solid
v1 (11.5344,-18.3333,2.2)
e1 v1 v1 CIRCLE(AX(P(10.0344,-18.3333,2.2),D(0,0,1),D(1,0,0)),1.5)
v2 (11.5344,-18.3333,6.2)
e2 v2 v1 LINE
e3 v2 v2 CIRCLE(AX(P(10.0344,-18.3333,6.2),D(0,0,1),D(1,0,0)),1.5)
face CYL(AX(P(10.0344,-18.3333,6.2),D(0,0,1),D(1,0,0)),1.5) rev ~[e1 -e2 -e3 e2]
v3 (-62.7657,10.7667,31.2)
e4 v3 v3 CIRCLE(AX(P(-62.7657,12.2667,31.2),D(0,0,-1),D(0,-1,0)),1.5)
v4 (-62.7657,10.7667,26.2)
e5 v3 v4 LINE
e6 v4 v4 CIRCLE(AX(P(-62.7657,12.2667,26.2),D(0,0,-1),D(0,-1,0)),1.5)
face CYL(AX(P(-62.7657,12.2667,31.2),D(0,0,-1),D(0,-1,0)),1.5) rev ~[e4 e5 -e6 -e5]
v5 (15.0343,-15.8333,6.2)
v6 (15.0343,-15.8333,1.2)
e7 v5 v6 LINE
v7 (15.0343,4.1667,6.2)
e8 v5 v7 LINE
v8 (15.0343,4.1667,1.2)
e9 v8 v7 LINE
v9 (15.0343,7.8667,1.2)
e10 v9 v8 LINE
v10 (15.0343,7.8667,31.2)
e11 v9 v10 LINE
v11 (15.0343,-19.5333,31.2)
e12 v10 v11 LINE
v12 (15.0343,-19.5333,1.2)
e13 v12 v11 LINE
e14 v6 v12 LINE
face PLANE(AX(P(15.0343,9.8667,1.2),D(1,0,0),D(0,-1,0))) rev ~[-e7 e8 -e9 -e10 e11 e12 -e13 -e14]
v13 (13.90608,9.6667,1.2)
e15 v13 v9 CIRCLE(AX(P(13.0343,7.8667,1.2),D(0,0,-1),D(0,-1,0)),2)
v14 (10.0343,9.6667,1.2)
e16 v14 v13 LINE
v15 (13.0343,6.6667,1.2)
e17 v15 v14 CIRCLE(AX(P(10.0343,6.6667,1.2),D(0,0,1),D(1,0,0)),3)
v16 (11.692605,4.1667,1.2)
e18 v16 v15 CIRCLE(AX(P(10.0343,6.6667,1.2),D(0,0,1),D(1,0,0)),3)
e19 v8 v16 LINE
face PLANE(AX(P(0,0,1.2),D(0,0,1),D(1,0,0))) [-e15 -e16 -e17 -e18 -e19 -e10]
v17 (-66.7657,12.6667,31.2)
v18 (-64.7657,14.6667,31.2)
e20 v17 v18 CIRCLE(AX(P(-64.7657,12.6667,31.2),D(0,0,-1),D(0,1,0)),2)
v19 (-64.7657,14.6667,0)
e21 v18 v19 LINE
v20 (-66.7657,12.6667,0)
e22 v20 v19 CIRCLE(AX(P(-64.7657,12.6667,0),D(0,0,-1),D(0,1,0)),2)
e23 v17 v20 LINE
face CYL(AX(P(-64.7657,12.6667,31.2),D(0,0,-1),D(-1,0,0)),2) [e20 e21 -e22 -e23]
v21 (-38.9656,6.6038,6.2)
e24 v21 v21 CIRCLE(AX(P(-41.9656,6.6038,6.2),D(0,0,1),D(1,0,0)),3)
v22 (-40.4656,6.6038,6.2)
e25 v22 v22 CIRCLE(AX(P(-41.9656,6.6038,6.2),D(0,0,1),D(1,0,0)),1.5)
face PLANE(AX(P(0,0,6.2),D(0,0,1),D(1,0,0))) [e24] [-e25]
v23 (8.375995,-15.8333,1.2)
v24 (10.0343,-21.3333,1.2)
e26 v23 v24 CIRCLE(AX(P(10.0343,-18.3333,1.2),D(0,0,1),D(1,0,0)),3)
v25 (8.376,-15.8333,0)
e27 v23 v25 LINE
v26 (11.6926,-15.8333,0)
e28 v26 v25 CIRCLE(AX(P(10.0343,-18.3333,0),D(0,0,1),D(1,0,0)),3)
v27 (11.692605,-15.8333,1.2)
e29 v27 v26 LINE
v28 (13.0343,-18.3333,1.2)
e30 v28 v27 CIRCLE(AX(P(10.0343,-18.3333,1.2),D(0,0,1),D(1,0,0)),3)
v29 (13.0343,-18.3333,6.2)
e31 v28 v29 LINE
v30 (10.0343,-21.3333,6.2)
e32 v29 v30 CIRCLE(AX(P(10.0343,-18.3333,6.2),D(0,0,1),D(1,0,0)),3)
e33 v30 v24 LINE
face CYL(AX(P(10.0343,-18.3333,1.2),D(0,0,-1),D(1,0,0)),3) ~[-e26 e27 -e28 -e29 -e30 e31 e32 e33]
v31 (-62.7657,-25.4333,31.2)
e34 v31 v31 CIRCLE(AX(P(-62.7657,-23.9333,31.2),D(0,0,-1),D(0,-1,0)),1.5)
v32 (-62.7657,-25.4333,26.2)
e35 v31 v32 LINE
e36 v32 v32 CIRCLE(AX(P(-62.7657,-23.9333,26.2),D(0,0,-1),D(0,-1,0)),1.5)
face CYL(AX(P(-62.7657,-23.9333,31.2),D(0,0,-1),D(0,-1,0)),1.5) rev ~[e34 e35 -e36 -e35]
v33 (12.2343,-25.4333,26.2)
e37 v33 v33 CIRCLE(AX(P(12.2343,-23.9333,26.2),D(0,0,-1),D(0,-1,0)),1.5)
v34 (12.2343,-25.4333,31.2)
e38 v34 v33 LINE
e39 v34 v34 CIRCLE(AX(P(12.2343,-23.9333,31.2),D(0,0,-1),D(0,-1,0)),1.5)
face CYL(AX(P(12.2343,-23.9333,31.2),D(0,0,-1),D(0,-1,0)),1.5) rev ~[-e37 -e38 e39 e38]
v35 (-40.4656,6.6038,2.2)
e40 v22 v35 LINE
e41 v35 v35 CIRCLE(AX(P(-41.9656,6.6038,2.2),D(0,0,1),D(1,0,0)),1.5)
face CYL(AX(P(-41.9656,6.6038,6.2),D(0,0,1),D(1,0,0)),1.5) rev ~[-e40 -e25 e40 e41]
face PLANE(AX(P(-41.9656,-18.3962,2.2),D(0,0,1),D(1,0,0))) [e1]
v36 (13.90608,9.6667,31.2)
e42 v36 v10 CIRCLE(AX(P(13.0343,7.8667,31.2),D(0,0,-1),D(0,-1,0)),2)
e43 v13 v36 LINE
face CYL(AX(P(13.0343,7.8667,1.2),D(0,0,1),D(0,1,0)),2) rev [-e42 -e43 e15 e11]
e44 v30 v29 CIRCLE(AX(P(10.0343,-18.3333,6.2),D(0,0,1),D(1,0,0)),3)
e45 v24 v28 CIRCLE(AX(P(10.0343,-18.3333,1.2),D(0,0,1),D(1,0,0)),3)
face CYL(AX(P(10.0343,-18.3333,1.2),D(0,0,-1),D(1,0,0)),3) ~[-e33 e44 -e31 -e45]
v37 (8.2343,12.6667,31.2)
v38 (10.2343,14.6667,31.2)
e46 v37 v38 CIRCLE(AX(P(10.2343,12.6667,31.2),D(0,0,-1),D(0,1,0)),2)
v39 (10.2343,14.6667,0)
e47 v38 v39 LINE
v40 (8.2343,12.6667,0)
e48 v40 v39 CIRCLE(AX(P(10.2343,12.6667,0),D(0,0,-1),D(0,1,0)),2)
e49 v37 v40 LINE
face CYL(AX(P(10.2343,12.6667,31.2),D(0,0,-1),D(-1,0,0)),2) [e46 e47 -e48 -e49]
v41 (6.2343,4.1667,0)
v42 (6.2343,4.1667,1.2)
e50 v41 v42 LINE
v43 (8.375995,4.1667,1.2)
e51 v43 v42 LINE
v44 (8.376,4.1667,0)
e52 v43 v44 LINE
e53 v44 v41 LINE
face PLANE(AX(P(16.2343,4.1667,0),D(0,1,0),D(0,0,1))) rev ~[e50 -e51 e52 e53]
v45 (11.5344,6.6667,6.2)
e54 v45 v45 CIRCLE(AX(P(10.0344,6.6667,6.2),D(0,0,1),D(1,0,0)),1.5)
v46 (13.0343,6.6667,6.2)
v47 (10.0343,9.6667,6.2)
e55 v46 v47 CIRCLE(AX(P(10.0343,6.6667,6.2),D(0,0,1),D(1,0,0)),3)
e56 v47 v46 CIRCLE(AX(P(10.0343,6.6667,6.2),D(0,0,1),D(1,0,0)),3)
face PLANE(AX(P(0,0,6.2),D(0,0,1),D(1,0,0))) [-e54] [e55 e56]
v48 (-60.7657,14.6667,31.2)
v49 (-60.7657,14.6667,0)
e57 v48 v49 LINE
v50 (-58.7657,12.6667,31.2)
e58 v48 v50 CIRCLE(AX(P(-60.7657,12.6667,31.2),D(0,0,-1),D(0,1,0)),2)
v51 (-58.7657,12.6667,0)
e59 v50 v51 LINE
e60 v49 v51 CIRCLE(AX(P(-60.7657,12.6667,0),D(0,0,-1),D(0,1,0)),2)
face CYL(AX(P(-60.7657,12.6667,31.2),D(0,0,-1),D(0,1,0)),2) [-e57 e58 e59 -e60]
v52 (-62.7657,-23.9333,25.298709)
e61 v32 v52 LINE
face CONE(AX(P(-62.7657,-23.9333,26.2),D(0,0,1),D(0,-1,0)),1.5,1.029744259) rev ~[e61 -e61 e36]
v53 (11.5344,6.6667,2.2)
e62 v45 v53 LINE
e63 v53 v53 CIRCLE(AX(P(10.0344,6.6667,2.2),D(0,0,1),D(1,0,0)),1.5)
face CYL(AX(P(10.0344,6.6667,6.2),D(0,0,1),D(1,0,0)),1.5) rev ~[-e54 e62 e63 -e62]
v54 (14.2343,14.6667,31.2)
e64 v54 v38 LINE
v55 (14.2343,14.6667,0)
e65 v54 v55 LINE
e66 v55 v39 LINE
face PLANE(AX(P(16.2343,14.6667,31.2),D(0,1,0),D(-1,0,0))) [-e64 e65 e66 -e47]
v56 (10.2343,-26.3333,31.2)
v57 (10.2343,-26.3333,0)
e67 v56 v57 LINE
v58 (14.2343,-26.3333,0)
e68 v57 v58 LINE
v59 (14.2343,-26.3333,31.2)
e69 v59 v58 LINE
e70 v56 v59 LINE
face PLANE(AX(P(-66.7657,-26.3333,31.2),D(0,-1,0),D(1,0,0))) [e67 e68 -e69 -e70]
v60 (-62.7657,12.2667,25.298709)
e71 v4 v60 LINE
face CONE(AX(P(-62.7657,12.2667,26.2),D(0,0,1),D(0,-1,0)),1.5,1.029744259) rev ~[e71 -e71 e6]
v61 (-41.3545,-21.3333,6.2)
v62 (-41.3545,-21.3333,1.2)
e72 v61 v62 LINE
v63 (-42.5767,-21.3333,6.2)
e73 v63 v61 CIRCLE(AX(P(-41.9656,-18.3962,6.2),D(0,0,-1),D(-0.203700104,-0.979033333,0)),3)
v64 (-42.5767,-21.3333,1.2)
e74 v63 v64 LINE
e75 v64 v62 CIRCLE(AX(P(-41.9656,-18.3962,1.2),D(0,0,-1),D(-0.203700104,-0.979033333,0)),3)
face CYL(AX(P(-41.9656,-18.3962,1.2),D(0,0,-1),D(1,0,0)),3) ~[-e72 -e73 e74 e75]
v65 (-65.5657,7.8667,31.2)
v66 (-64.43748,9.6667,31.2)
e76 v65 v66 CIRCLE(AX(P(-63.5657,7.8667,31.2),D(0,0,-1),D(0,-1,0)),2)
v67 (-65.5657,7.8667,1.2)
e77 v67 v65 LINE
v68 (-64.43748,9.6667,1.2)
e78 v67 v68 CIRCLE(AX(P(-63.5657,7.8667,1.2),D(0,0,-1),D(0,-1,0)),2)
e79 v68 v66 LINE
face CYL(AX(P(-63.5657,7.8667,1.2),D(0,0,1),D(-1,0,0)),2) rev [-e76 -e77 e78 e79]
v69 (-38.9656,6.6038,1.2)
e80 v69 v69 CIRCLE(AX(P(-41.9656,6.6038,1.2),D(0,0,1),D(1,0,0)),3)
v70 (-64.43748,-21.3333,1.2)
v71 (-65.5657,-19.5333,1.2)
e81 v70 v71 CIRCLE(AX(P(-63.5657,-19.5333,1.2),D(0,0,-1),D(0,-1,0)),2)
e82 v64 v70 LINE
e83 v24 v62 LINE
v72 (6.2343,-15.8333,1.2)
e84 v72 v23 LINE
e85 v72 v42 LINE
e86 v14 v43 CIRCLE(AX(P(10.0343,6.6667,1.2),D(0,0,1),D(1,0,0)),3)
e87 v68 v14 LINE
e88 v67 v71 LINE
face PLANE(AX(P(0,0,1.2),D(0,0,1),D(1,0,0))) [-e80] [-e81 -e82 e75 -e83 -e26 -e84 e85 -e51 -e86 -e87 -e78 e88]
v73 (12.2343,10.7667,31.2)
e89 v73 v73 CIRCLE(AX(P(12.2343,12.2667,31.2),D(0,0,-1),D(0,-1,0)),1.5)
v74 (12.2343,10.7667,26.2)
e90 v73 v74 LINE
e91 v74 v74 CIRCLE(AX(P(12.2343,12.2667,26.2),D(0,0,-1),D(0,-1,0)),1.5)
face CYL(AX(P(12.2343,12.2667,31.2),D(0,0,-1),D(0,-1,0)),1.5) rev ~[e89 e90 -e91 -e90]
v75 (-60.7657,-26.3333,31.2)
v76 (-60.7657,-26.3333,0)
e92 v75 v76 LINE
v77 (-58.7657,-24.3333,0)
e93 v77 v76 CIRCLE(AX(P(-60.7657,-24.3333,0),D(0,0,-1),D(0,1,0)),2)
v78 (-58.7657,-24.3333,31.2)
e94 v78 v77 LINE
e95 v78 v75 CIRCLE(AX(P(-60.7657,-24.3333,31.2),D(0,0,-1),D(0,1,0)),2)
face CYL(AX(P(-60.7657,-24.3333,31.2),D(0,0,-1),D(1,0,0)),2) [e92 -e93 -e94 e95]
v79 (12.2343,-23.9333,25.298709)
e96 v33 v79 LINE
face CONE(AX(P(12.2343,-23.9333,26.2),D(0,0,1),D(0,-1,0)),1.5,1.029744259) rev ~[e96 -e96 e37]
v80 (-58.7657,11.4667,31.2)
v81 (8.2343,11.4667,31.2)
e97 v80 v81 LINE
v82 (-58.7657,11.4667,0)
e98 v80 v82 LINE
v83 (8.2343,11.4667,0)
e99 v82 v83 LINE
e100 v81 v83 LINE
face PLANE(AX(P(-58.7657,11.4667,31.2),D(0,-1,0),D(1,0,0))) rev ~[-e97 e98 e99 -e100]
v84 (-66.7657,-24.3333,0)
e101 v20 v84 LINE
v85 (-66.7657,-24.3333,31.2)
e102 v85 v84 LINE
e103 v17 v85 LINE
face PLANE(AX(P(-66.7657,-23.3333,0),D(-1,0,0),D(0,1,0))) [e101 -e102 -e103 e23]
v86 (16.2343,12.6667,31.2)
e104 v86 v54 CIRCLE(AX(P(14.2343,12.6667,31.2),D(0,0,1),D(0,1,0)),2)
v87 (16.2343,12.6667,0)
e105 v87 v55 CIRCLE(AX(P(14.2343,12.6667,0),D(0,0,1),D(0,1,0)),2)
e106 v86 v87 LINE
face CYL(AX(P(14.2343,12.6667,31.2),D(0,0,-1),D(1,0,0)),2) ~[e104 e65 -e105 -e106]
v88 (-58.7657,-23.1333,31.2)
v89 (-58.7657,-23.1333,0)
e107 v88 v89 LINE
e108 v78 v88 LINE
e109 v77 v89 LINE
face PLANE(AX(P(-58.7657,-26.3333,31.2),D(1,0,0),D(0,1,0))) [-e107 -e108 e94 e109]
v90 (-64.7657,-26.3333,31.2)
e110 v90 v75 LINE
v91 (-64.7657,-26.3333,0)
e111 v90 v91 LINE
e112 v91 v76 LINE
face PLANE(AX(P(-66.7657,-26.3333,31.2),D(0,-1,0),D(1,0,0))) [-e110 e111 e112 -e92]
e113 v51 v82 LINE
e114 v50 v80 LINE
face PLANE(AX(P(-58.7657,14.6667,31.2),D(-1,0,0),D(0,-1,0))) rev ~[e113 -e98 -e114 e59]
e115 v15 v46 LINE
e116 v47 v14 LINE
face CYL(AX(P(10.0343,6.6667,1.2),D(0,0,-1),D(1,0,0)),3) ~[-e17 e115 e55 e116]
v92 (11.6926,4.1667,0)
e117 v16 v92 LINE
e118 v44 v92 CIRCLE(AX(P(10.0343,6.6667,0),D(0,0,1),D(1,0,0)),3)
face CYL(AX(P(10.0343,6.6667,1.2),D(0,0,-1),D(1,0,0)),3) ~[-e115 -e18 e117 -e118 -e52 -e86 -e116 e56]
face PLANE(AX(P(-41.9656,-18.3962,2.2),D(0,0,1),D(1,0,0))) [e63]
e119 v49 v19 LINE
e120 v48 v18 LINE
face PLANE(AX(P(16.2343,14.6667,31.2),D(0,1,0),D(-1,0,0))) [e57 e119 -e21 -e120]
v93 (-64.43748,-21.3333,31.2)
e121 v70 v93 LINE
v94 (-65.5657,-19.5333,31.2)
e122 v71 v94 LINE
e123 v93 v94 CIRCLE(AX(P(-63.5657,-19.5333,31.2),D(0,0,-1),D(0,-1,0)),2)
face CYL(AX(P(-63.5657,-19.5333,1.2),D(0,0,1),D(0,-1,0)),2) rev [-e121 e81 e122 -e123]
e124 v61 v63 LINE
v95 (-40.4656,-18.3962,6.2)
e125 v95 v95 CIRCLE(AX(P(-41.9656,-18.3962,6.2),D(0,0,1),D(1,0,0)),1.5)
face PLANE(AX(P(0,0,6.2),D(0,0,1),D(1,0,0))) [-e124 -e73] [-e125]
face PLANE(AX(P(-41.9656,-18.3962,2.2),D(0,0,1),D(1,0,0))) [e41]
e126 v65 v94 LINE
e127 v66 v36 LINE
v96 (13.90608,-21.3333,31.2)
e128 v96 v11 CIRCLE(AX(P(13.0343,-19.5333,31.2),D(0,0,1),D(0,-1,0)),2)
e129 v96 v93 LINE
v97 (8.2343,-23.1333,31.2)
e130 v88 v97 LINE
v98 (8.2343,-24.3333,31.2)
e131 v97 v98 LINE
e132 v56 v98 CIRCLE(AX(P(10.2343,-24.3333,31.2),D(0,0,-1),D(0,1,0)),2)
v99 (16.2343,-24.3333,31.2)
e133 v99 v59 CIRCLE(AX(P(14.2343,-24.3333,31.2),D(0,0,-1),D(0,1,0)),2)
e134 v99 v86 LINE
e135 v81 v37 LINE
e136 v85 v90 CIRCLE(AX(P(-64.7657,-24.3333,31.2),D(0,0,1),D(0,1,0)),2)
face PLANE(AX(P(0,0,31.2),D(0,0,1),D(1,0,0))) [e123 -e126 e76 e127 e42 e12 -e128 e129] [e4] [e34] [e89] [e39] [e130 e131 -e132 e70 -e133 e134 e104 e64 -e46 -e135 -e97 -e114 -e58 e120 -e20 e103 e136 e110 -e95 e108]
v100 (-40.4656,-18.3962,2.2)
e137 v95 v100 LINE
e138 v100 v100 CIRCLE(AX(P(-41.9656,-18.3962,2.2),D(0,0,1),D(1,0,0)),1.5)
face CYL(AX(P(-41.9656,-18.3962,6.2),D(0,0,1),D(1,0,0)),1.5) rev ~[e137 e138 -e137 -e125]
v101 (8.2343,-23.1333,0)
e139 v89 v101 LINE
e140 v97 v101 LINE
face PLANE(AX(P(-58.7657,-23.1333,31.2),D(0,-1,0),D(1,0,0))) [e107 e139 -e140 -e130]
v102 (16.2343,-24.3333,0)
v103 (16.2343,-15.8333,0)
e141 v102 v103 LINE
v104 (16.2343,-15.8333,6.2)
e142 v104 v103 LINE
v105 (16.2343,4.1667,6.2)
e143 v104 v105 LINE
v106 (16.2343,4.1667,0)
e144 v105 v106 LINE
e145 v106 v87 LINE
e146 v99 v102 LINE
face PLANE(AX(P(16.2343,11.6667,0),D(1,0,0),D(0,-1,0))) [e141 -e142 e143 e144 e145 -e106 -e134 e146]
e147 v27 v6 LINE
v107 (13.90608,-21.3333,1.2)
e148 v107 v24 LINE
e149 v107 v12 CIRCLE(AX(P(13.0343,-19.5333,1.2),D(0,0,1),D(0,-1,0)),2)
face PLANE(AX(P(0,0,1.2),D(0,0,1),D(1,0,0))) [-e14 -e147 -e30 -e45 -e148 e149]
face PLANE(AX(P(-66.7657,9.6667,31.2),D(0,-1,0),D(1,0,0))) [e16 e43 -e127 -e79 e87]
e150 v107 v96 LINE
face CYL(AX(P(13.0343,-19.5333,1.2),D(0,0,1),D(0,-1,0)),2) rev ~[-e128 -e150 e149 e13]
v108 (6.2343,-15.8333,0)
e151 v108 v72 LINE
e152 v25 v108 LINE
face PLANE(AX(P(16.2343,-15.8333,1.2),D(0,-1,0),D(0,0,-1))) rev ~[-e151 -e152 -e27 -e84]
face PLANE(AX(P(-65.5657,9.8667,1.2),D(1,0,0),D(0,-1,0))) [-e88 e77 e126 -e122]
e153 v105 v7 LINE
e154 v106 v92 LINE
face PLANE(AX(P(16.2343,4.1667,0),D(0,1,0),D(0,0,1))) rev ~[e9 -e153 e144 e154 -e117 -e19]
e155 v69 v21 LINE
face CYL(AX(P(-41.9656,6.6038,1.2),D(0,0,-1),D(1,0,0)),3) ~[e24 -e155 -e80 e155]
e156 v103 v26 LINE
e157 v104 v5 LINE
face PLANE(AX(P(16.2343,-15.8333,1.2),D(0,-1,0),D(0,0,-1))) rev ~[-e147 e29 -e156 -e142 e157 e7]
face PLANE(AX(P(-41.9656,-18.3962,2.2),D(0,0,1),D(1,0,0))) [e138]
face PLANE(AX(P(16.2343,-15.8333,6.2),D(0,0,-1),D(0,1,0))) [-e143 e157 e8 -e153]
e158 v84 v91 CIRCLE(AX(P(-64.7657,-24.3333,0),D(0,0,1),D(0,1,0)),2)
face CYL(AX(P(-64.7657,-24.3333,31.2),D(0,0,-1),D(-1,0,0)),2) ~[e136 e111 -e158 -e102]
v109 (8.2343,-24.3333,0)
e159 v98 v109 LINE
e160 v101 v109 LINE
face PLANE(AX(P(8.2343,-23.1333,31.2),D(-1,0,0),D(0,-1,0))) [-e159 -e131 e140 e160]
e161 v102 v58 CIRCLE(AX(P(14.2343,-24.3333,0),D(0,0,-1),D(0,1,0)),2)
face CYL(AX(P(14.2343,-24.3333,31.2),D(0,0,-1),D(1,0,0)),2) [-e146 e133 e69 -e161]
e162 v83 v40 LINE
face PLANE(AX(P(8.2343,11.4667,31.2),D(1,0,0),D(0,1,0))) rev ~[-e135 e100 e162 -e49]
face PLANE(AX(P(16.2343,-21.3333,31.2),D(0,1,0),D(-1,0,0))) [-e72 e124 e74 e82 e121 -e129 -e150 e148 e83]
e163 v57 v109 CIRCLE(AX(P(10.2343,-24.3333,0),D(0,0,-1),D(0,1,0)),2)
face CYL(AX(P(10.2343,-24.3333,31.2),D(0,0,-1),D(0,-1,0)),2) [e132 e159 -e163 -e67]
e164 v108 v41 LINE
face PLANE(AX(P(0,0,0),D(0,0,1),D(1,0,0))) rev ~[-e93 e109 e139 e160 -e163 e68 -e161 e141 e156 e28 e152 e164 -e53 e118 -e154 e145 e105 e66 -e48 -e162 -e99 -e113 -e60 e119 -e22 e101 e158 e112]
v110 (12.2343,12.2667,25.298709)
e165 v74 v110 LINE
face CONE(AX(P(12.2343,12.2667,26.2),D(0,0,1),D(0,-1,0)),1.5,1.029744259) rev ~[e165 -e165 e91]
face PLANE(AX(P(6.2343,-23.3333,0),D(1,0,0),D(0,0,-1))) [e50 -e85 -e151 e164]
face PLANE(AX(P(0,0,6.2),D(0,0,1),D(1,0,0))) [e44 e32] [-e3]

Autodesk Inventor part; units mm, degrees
ref_plane "YZ Plane" through (0, 0, 0) normal (1, 0, 0) x (0, 1, 0)
ref_plane "XZ Plane" through (0, 0, 0) normal (0, 1, 0) x (-1, 0, 0)
ref_plane "XY Plane" through (0, 0, 0) normal (0, 0, 1) x (1, 0, 0)
sketch "Sketch1" plane through (0, 0, 0) normal (0, 0, 1) x (1, 0, 0)
  line L0 (-66.7657, 11.6667) -> (16.2343, 11.6667)
  line L1 (16.2343, 11.6667) -> (16.2343, -23.3333)
  line L2 (16.2343, -23.3333) -> (-66.7657, -23.3333)
  line L3 (-66.7657, -23.3333) -> (-66.7657, 11.6667)
  point P0 (0, 0)
  dimension "d0" = 35
  dimension "d1" = 83
extrude "Extrusion1" add sketch "Sketch1" along normal blind 1.2
sketch "Sketch2" plane through (0, 0, 1.2) normal (0, 0, 1) x (1, 0, 0)
  line L0 (16.2343, -23.3333) -> (16.2343, 11.6667) projected
  line L1 (-66.7657, 11.6667) -> (16.2343, 11.6667)
  line L2 (16.2343, 11.6667) -> (16.2343, 9.8667)
  line L3 (16.2343, 9.8667) -> (-66.7657, 9.8667)
  line L4 (-66.7657, 9.8667) -> (-66.7657, 11.6667)
  line L5 (-66.7657, 11.6667) -> (-66.7657, -23.3333) projected
  line L6 (16.2343, -23.3333) -> (-66.7657, -23.3333)
  line L7 (-66.7657, -23.3333) -> (-66.7657, -21.5333)
  line L8 (-66.7657, -21.5333) -> (16.2343, -21.5333)
  line L9 (16.2343, -21.5333) -> (16.2343, -23.3333)
  line L10 (-66.7657, 9.8667) -> (-65.5657, 9.8667)
  line L11 (-65.5657, 9.8667) -> (-65.5657, -21.5333)
  line L12 (-65.5657, -21.5333) -> (-66.7657, -21.5333)
  line L13 (-66.7657, -21.5333) -> (-66.7657, 9.8667)
  line L14 (16.2343, 9.8667) -> (15.0343, 9.8667)
  line L15 (15.0343, 9.8667) -> (15.0343, -21.5333)
  line L16 (15.0343, -21.5333) -> (16.2343, -21.5333)
  line L17 (16.2343, -21.5333) -> (16.2343, 9.8667)
  line L18 (-66.7657, 11.6667) -> (-65.5657, 11.6667)
  line L19 (-65.5657, 11.6667) -> (-65.5657, -21.5333)
  line L20 (-65.5657, -21.5333) -> (-66.7657, -21.5333)
  line L21 (-66.7657, -21.5333) -> (-66.7657, 11.6667)
  line L22 (-66.7657, 11.6667) -> (16.2343, 11.6667)
  line L23 (16.2343, 11.6667) -> (16.2343, 9.8667)
  line L24 (16.2343, 9.8667) -> (-66.7657, 9.8667)
  line L25 (-66.7657, 9.8667) -> (-66.7657, 11.6667)
  point P0 (0, 0)
  dimension "d4" = 1.8
  dimension "d5" = 1.8
  dimension "d6" = 1.2
  dimension "d7" = 1.2
extrude "Extrusion2" add sketch "Sketch2" along normal blind 30 contours L6 L5 L8 L0 | L8 L15 L3 L0 | L3 L19 L1 L0 | L5 L3 L11 L8 | L4 L1 L19 L3
sketch "Sketch3" plane through (0, 0, 31.2) normal (0, 0, 1) x (1, 0, 0)
  point P0 (0, 0)
sketch "Sketch4" plane through (16.2343, -23.3333, 0) normal (1, 0, 0) x (0, 0, -1)
  line L0 (-1.2, 33.2) -> (-1.2, 1.8) projected
  line L1 (-1.2, 7.5) -> (-6.2, 7.5)
  line L2 (-6.2, 7.5) -> (-6.2, 27.5)
  line L3 (-6.2, 27.5) -> (-1.2, 27.5)
  line L4 (-1.2, 27.5) -> (-1.2, 7.5)
  line L5 (-1.2, 1.8) -> (-31.2, 1.8) projected
  line L6 (-1.2, 33.2) -> (-31.2, 33.2) projected
  line L7 (-6.2, 7.5) -> (0, 7.5)
  line L8 (0, 7.5) -> (0, 27.5)
  line L9 (0, 27.5) -> (-6.2, 27.5)
  line L10 (-6.2, 27.5) -> (-6.2, 7.5)
  line L11 (0, 35) -> (0, 0) projected
  point P0 (0, 23.3333)
  dimension "d10" = 20
  dimension "d11" = 5
  dimension "d12" = 5.7
  dimension "d13" = 5.7
extrude "Extrusion3" cut sketch "Sketch4" against normal blind 10
fillet "Fillet1" radius 2 8 edges at (-66.7657, 11.6667, 15.6) (-65.5657, 9.8667, 16.2) (-66.7657, -23.3333, 15.6) (-65.5657, -21.5333, 16.2) (15.0343, 9.8667, 16.2) (16.2343, 11.6667, 15.6) (16.2343, -23.3333, 15.6) (15.0343, -21.5333, 16.2)
sketch "Sketch5" plane through (0, 0, 1.2) normal (0, 0, 1) x (1, 0, 0)
  circle A0 centre (10.0343, 6.6667) radius 1.5
  circle A1 centre (10.0343, -18.3333) radius 1.5
  line L0 (15.0343, 7.8667) -> (15.0343, -19.5333) projected
  line L1 (13.0343, -21.5333) -> (-63.5657, -21.5333) projected
  line L2 (-63.5657, 9.8667) -> (13.0343, 9.8667) projected
  point P0 (0, 0)
  dimension "d17" = 3
  dimension "d18" = 3
  dimension "d19" = 25
  dimension "d20" = 5
  dimension "d21" = 5
  dimension "d22" = 3.2
  dimension "d23" = 3.2
extrude "Extrusion4" add sketch "Sketch5" along normal blind 5
sketch "Sketch6" plane through (0, 0, 1.2) normal (0, 0, 1) x (1, 0, 0)
  circle A0 centre (-41.9656, -18.3962) radius 1.5
  circle A1 centre (-41.9656, 6.6038) radius 1.5
  circle A2 centre (10.0343, 6.6667) radius 1.5 projected
  circle A3 centre (10.0343, -18.3333) radius 1.5 projected
  point P0 (0, 0)
  dimension "d26" = 3
  dimension "d27" = 3
  dimension "d28" = 25
  dimension "d29" = 52
  dimension "d30" = 52
extrude "Extrusion5" add sketch "Sketch6" along normal blind 5 contours A0 | A1
sketch "Sketch7" plane through (-41.9656, 6.6038, 6.2) normal (0, 0, 1) x (1, 0, 0)
  point P0 (41.9656, -6.6038)
sketch "Sketch8" plane through (0, 0, 1.2) normal (0, 0, 1) x (1, 0, 0)
  circle A0 centre (-41.9656, -18.3962) radius 1.5 projected
  circle A1 centre (-41.9656, -18.3962) radius 3
  circle A2 centre (-41.9656, 6.6038) radius 1.5 projected
  circle A3 centre (-41.9656, 6.6038) radius 3
  circle A4 centre (10.0343, -18.3333) radius 1.5 projected
  circle A5 centre (10.0343, -18.3333) radius 3
  circle A6 centre (10.0343, 6.6667) radius 1.5 projected
  circle A7 centre (10.0343, 6.6667) radius 3
  point P0 (0, 0)
  dimension "d33" = 6
  dimension "d34" = 6
  dimension "d35" = 6
  dimension "d36" = 6
extrude "Extrusion6" add sketch "Sketch8" along normal blind 5
sketch "Sketch9" plane through (0, 0, 1.2) normal (0, 0, 1) x (1, 0, 0)
  arc A0 (8.376, -15.8333) -> (11.6926, -15.8333) centre (10.0343, -18.3333) ccw projected
  circle A1 centre (10.0343, -18.3333) radius 3
  arc A2 (11.6926, 4.1667) -> (8.376, 4.1667) centre (10.0343, 6.6667) ccw projected
  circle A3 centre (10.0343, 6.6667) radius 3
  point P0 (0, 0)
  dimension "d39" = 6
  dimension "d40" = 6
extrude "Extrusion7" add sketch "Sketch9" against normal blind 1.2
sketch "Sketch10" plane through (-41.9656, -18.3962, 6.2) normal (0, 0, 1) x (1, 0, 0)
  circle A0 centre (0, 0) radius 3 projected
  circle A1 centre (0, 0) radius 1.5
  circle A2 centre (0, 25) radius 3 projected
  circle A3 centre (0, 25) radius 1.5
  circle A4 centre (52, 0.0629) radius 3 projected
  circle A5 centre (52, 0.0629) radius 1.5
  circle A6 centre (52, 25.0629) radius 3 projected
  circle A7 centre (52, 25.0629) radius 1.5
  point P0 (41.9656, 18.3962)
  dimension "d43" = 3
  dimension "d44" = 3
  dimension "d45" = 3
  dimension "d46" = 3
extrude "Extrusion8" cut sketch "Sketch10" against normal blind 4 contours A1 | A3 | A5 | A7
thread "Thread1" size "M3x0.5" class "6H" standard "ANSI Metric M Profile" full length
thread "Thread2" size "M3x0.5" class "6H" standard "ANSI Metric M Profile" full length
thread "Thread3" size "M3x0.5" class "6H" standard "ANSI Metric M Profile" full length
thread "Thread4" size "M3x0.5" class "6H" standard "ANSI Metric M Profile" full length
sketch "Sketch11" plane through (0, 0, 31.2) normal (0, 0, 1) x (1, 0, 0)
  arc A0 (-64.7657, 11.6667) -> (-66.7657, 9.6667) centre (-64.7657, 9.6667) ccw projected
  line L0 (-66.7657, 9.6667) -> (16.2343, 9.6667)
  line L1 (16.2343, 9.6667) -> (16.2343, 14.6667)
  line L2 (16.2343, 14.6667) -> (-66.7657, 14.6667)
  line L3 (-66.7657, 14.6667) -> (-66.7657, 9.6667)
  line L4 (16.2343, -21.3333) -> (-66.7657, -21.3333)
  line L5 (-66.7657, -21.3333) -> (-66.7657, -26.3333)
  line L6 (-66.7657, -26.3333) -> (16.2343, -26.3333)
  line L7 (16.2343, -26.3333) -> (16.2343, -21.3333)
  point P0 (0, 0)
  dimension "d57" = 5
  dimension "d58" = 5
  dimension "d59" = 83
extrude "Extrusion9" add sketch "Sketch11" against normal blind 31.2
fillet "Fillet2" radius 2 4 edges at (16.2343, -26.3333, 15.6) (16.2343, 14.6667, 15.6) (-66.7657, 14.6667, 15.6) (-66.7657, -26.3333, 15.6)
sketch "Sketch12" plane through (0, 0, 31.2) normal (0, 0, 1) x (1, 0, 0)
  line L0 (14.2343, -26.3333) -> (-64.7657, -26.3333) projected
  line L1 (8.2343, -26.3333) -> (-58.7657, -26.3333)
  line L2 (-58.7657, -26.3333) -> (-58.7657, -23.1333)
  line L3 (-58.7657, -23.1333) -> (8.2343, -23.1333)
  line L4 (8.2343, -23.1333) -> (8.2343, -26.3333)
  line L5 (-64.7657, 14.6667) -> (14.2343, 14.6667) projected
  line L6 (8.2343, 14.6667) -> (-58.7657, 14.6667)
  line L7 (-58.7657, 14.6667) -> (-58.7657, 11.4667)
  line L8 (-58.7657, 11.4667) -> (8.2343, 11.4667)
  line L9 (8.2343, 11.4667) -> (8.2343, 14.6667)
  line L10 (16.2343, -24.3333) -> (16.2343, 12.6667) projected
  line L11 (-66.7657, 12.6667) -> (-66.7657, -24.3333) projected
  line L12 (13.9061, -21.3333) -> (-64.4375, -21.3333) projected
  line L13 (10.0343, 9.6667) -> (-64.4375, 9.6667) projected
  point P0 (0, 0)
  dimension "d63" = 8
  dimension "d64" = 8
  dimension "d65" = 1.8
  dimension "d66" = 1.8
extrude "Extrusion10" cut sketch "Sketch12" against normal blind 31.2
fillet "Fillet3" radius 2 4 edges at (8.2343, -26.3333, 15.6) (-58.7657, -26.3333, 15.6) (8.2343, 14.6667, 15.6) (-58.7657, 14.6667, 15.6)
sketch "Sketch13" plane through (0, 0, 31.2) normal (0, 0, 1) x (1, 0, 0)
  line L0 (14.2343, -26.3333) -> (10.2343, -26.3333) projected
  circle A0 centre (12.2343, -23.9333) radius 1.5
  circle A1 centre (-62.7657, -23.9333) radius 1.5
  line L1 (-64.7657, -26.3333) -> (-60.7657, -26.3333) projected
  circle A2 centre (12.2343, 12.2667) radius 1.5
  circle A3 centre (-62.7657, 12.2667) radius 1.5
  line L2 (-66.7657, 12.6667) -> (-66.7657, -24.3333) projected
  line L3 (-60.7657, 14.6667) -> (-64.7657, 14.6667) projected
  line L4 (16.2343, -24.3333) -> (16.2343, 12.6667) projected
  line L5 (14.2343, 14.6667) -> (10.2343, 14.6667) projected
  line L6 (8.2343, -23.1333) -> (8.2343, -24.3333) projected
  point P0 (0, 0)
  dimension "d70" = 2.4
  dimension "d71" = 3
  dimension "d72" = 3
  dimension "d73" = 2.4
  dimension "d74" = 3
  dimension "d75" = 3
  dimension "d76" = 4
  dimension "d77" = 4
  dimension "d78" = 2.4
  dimension "d79" = 4
  dimension "d80" = 2.4
  dimension "d81" = 4
hole "Hole1" at (12.2343, -23.9333, 31.2) at (12.2343, 12.2667, 31.2) at (-62.7657, -23.9333, 31.2) at (-62.7657, 12.2667, 31.2) direction (0, 0, -1) diameter 3 depth 5 tip angle 118
properties part number "Case Bottom"
